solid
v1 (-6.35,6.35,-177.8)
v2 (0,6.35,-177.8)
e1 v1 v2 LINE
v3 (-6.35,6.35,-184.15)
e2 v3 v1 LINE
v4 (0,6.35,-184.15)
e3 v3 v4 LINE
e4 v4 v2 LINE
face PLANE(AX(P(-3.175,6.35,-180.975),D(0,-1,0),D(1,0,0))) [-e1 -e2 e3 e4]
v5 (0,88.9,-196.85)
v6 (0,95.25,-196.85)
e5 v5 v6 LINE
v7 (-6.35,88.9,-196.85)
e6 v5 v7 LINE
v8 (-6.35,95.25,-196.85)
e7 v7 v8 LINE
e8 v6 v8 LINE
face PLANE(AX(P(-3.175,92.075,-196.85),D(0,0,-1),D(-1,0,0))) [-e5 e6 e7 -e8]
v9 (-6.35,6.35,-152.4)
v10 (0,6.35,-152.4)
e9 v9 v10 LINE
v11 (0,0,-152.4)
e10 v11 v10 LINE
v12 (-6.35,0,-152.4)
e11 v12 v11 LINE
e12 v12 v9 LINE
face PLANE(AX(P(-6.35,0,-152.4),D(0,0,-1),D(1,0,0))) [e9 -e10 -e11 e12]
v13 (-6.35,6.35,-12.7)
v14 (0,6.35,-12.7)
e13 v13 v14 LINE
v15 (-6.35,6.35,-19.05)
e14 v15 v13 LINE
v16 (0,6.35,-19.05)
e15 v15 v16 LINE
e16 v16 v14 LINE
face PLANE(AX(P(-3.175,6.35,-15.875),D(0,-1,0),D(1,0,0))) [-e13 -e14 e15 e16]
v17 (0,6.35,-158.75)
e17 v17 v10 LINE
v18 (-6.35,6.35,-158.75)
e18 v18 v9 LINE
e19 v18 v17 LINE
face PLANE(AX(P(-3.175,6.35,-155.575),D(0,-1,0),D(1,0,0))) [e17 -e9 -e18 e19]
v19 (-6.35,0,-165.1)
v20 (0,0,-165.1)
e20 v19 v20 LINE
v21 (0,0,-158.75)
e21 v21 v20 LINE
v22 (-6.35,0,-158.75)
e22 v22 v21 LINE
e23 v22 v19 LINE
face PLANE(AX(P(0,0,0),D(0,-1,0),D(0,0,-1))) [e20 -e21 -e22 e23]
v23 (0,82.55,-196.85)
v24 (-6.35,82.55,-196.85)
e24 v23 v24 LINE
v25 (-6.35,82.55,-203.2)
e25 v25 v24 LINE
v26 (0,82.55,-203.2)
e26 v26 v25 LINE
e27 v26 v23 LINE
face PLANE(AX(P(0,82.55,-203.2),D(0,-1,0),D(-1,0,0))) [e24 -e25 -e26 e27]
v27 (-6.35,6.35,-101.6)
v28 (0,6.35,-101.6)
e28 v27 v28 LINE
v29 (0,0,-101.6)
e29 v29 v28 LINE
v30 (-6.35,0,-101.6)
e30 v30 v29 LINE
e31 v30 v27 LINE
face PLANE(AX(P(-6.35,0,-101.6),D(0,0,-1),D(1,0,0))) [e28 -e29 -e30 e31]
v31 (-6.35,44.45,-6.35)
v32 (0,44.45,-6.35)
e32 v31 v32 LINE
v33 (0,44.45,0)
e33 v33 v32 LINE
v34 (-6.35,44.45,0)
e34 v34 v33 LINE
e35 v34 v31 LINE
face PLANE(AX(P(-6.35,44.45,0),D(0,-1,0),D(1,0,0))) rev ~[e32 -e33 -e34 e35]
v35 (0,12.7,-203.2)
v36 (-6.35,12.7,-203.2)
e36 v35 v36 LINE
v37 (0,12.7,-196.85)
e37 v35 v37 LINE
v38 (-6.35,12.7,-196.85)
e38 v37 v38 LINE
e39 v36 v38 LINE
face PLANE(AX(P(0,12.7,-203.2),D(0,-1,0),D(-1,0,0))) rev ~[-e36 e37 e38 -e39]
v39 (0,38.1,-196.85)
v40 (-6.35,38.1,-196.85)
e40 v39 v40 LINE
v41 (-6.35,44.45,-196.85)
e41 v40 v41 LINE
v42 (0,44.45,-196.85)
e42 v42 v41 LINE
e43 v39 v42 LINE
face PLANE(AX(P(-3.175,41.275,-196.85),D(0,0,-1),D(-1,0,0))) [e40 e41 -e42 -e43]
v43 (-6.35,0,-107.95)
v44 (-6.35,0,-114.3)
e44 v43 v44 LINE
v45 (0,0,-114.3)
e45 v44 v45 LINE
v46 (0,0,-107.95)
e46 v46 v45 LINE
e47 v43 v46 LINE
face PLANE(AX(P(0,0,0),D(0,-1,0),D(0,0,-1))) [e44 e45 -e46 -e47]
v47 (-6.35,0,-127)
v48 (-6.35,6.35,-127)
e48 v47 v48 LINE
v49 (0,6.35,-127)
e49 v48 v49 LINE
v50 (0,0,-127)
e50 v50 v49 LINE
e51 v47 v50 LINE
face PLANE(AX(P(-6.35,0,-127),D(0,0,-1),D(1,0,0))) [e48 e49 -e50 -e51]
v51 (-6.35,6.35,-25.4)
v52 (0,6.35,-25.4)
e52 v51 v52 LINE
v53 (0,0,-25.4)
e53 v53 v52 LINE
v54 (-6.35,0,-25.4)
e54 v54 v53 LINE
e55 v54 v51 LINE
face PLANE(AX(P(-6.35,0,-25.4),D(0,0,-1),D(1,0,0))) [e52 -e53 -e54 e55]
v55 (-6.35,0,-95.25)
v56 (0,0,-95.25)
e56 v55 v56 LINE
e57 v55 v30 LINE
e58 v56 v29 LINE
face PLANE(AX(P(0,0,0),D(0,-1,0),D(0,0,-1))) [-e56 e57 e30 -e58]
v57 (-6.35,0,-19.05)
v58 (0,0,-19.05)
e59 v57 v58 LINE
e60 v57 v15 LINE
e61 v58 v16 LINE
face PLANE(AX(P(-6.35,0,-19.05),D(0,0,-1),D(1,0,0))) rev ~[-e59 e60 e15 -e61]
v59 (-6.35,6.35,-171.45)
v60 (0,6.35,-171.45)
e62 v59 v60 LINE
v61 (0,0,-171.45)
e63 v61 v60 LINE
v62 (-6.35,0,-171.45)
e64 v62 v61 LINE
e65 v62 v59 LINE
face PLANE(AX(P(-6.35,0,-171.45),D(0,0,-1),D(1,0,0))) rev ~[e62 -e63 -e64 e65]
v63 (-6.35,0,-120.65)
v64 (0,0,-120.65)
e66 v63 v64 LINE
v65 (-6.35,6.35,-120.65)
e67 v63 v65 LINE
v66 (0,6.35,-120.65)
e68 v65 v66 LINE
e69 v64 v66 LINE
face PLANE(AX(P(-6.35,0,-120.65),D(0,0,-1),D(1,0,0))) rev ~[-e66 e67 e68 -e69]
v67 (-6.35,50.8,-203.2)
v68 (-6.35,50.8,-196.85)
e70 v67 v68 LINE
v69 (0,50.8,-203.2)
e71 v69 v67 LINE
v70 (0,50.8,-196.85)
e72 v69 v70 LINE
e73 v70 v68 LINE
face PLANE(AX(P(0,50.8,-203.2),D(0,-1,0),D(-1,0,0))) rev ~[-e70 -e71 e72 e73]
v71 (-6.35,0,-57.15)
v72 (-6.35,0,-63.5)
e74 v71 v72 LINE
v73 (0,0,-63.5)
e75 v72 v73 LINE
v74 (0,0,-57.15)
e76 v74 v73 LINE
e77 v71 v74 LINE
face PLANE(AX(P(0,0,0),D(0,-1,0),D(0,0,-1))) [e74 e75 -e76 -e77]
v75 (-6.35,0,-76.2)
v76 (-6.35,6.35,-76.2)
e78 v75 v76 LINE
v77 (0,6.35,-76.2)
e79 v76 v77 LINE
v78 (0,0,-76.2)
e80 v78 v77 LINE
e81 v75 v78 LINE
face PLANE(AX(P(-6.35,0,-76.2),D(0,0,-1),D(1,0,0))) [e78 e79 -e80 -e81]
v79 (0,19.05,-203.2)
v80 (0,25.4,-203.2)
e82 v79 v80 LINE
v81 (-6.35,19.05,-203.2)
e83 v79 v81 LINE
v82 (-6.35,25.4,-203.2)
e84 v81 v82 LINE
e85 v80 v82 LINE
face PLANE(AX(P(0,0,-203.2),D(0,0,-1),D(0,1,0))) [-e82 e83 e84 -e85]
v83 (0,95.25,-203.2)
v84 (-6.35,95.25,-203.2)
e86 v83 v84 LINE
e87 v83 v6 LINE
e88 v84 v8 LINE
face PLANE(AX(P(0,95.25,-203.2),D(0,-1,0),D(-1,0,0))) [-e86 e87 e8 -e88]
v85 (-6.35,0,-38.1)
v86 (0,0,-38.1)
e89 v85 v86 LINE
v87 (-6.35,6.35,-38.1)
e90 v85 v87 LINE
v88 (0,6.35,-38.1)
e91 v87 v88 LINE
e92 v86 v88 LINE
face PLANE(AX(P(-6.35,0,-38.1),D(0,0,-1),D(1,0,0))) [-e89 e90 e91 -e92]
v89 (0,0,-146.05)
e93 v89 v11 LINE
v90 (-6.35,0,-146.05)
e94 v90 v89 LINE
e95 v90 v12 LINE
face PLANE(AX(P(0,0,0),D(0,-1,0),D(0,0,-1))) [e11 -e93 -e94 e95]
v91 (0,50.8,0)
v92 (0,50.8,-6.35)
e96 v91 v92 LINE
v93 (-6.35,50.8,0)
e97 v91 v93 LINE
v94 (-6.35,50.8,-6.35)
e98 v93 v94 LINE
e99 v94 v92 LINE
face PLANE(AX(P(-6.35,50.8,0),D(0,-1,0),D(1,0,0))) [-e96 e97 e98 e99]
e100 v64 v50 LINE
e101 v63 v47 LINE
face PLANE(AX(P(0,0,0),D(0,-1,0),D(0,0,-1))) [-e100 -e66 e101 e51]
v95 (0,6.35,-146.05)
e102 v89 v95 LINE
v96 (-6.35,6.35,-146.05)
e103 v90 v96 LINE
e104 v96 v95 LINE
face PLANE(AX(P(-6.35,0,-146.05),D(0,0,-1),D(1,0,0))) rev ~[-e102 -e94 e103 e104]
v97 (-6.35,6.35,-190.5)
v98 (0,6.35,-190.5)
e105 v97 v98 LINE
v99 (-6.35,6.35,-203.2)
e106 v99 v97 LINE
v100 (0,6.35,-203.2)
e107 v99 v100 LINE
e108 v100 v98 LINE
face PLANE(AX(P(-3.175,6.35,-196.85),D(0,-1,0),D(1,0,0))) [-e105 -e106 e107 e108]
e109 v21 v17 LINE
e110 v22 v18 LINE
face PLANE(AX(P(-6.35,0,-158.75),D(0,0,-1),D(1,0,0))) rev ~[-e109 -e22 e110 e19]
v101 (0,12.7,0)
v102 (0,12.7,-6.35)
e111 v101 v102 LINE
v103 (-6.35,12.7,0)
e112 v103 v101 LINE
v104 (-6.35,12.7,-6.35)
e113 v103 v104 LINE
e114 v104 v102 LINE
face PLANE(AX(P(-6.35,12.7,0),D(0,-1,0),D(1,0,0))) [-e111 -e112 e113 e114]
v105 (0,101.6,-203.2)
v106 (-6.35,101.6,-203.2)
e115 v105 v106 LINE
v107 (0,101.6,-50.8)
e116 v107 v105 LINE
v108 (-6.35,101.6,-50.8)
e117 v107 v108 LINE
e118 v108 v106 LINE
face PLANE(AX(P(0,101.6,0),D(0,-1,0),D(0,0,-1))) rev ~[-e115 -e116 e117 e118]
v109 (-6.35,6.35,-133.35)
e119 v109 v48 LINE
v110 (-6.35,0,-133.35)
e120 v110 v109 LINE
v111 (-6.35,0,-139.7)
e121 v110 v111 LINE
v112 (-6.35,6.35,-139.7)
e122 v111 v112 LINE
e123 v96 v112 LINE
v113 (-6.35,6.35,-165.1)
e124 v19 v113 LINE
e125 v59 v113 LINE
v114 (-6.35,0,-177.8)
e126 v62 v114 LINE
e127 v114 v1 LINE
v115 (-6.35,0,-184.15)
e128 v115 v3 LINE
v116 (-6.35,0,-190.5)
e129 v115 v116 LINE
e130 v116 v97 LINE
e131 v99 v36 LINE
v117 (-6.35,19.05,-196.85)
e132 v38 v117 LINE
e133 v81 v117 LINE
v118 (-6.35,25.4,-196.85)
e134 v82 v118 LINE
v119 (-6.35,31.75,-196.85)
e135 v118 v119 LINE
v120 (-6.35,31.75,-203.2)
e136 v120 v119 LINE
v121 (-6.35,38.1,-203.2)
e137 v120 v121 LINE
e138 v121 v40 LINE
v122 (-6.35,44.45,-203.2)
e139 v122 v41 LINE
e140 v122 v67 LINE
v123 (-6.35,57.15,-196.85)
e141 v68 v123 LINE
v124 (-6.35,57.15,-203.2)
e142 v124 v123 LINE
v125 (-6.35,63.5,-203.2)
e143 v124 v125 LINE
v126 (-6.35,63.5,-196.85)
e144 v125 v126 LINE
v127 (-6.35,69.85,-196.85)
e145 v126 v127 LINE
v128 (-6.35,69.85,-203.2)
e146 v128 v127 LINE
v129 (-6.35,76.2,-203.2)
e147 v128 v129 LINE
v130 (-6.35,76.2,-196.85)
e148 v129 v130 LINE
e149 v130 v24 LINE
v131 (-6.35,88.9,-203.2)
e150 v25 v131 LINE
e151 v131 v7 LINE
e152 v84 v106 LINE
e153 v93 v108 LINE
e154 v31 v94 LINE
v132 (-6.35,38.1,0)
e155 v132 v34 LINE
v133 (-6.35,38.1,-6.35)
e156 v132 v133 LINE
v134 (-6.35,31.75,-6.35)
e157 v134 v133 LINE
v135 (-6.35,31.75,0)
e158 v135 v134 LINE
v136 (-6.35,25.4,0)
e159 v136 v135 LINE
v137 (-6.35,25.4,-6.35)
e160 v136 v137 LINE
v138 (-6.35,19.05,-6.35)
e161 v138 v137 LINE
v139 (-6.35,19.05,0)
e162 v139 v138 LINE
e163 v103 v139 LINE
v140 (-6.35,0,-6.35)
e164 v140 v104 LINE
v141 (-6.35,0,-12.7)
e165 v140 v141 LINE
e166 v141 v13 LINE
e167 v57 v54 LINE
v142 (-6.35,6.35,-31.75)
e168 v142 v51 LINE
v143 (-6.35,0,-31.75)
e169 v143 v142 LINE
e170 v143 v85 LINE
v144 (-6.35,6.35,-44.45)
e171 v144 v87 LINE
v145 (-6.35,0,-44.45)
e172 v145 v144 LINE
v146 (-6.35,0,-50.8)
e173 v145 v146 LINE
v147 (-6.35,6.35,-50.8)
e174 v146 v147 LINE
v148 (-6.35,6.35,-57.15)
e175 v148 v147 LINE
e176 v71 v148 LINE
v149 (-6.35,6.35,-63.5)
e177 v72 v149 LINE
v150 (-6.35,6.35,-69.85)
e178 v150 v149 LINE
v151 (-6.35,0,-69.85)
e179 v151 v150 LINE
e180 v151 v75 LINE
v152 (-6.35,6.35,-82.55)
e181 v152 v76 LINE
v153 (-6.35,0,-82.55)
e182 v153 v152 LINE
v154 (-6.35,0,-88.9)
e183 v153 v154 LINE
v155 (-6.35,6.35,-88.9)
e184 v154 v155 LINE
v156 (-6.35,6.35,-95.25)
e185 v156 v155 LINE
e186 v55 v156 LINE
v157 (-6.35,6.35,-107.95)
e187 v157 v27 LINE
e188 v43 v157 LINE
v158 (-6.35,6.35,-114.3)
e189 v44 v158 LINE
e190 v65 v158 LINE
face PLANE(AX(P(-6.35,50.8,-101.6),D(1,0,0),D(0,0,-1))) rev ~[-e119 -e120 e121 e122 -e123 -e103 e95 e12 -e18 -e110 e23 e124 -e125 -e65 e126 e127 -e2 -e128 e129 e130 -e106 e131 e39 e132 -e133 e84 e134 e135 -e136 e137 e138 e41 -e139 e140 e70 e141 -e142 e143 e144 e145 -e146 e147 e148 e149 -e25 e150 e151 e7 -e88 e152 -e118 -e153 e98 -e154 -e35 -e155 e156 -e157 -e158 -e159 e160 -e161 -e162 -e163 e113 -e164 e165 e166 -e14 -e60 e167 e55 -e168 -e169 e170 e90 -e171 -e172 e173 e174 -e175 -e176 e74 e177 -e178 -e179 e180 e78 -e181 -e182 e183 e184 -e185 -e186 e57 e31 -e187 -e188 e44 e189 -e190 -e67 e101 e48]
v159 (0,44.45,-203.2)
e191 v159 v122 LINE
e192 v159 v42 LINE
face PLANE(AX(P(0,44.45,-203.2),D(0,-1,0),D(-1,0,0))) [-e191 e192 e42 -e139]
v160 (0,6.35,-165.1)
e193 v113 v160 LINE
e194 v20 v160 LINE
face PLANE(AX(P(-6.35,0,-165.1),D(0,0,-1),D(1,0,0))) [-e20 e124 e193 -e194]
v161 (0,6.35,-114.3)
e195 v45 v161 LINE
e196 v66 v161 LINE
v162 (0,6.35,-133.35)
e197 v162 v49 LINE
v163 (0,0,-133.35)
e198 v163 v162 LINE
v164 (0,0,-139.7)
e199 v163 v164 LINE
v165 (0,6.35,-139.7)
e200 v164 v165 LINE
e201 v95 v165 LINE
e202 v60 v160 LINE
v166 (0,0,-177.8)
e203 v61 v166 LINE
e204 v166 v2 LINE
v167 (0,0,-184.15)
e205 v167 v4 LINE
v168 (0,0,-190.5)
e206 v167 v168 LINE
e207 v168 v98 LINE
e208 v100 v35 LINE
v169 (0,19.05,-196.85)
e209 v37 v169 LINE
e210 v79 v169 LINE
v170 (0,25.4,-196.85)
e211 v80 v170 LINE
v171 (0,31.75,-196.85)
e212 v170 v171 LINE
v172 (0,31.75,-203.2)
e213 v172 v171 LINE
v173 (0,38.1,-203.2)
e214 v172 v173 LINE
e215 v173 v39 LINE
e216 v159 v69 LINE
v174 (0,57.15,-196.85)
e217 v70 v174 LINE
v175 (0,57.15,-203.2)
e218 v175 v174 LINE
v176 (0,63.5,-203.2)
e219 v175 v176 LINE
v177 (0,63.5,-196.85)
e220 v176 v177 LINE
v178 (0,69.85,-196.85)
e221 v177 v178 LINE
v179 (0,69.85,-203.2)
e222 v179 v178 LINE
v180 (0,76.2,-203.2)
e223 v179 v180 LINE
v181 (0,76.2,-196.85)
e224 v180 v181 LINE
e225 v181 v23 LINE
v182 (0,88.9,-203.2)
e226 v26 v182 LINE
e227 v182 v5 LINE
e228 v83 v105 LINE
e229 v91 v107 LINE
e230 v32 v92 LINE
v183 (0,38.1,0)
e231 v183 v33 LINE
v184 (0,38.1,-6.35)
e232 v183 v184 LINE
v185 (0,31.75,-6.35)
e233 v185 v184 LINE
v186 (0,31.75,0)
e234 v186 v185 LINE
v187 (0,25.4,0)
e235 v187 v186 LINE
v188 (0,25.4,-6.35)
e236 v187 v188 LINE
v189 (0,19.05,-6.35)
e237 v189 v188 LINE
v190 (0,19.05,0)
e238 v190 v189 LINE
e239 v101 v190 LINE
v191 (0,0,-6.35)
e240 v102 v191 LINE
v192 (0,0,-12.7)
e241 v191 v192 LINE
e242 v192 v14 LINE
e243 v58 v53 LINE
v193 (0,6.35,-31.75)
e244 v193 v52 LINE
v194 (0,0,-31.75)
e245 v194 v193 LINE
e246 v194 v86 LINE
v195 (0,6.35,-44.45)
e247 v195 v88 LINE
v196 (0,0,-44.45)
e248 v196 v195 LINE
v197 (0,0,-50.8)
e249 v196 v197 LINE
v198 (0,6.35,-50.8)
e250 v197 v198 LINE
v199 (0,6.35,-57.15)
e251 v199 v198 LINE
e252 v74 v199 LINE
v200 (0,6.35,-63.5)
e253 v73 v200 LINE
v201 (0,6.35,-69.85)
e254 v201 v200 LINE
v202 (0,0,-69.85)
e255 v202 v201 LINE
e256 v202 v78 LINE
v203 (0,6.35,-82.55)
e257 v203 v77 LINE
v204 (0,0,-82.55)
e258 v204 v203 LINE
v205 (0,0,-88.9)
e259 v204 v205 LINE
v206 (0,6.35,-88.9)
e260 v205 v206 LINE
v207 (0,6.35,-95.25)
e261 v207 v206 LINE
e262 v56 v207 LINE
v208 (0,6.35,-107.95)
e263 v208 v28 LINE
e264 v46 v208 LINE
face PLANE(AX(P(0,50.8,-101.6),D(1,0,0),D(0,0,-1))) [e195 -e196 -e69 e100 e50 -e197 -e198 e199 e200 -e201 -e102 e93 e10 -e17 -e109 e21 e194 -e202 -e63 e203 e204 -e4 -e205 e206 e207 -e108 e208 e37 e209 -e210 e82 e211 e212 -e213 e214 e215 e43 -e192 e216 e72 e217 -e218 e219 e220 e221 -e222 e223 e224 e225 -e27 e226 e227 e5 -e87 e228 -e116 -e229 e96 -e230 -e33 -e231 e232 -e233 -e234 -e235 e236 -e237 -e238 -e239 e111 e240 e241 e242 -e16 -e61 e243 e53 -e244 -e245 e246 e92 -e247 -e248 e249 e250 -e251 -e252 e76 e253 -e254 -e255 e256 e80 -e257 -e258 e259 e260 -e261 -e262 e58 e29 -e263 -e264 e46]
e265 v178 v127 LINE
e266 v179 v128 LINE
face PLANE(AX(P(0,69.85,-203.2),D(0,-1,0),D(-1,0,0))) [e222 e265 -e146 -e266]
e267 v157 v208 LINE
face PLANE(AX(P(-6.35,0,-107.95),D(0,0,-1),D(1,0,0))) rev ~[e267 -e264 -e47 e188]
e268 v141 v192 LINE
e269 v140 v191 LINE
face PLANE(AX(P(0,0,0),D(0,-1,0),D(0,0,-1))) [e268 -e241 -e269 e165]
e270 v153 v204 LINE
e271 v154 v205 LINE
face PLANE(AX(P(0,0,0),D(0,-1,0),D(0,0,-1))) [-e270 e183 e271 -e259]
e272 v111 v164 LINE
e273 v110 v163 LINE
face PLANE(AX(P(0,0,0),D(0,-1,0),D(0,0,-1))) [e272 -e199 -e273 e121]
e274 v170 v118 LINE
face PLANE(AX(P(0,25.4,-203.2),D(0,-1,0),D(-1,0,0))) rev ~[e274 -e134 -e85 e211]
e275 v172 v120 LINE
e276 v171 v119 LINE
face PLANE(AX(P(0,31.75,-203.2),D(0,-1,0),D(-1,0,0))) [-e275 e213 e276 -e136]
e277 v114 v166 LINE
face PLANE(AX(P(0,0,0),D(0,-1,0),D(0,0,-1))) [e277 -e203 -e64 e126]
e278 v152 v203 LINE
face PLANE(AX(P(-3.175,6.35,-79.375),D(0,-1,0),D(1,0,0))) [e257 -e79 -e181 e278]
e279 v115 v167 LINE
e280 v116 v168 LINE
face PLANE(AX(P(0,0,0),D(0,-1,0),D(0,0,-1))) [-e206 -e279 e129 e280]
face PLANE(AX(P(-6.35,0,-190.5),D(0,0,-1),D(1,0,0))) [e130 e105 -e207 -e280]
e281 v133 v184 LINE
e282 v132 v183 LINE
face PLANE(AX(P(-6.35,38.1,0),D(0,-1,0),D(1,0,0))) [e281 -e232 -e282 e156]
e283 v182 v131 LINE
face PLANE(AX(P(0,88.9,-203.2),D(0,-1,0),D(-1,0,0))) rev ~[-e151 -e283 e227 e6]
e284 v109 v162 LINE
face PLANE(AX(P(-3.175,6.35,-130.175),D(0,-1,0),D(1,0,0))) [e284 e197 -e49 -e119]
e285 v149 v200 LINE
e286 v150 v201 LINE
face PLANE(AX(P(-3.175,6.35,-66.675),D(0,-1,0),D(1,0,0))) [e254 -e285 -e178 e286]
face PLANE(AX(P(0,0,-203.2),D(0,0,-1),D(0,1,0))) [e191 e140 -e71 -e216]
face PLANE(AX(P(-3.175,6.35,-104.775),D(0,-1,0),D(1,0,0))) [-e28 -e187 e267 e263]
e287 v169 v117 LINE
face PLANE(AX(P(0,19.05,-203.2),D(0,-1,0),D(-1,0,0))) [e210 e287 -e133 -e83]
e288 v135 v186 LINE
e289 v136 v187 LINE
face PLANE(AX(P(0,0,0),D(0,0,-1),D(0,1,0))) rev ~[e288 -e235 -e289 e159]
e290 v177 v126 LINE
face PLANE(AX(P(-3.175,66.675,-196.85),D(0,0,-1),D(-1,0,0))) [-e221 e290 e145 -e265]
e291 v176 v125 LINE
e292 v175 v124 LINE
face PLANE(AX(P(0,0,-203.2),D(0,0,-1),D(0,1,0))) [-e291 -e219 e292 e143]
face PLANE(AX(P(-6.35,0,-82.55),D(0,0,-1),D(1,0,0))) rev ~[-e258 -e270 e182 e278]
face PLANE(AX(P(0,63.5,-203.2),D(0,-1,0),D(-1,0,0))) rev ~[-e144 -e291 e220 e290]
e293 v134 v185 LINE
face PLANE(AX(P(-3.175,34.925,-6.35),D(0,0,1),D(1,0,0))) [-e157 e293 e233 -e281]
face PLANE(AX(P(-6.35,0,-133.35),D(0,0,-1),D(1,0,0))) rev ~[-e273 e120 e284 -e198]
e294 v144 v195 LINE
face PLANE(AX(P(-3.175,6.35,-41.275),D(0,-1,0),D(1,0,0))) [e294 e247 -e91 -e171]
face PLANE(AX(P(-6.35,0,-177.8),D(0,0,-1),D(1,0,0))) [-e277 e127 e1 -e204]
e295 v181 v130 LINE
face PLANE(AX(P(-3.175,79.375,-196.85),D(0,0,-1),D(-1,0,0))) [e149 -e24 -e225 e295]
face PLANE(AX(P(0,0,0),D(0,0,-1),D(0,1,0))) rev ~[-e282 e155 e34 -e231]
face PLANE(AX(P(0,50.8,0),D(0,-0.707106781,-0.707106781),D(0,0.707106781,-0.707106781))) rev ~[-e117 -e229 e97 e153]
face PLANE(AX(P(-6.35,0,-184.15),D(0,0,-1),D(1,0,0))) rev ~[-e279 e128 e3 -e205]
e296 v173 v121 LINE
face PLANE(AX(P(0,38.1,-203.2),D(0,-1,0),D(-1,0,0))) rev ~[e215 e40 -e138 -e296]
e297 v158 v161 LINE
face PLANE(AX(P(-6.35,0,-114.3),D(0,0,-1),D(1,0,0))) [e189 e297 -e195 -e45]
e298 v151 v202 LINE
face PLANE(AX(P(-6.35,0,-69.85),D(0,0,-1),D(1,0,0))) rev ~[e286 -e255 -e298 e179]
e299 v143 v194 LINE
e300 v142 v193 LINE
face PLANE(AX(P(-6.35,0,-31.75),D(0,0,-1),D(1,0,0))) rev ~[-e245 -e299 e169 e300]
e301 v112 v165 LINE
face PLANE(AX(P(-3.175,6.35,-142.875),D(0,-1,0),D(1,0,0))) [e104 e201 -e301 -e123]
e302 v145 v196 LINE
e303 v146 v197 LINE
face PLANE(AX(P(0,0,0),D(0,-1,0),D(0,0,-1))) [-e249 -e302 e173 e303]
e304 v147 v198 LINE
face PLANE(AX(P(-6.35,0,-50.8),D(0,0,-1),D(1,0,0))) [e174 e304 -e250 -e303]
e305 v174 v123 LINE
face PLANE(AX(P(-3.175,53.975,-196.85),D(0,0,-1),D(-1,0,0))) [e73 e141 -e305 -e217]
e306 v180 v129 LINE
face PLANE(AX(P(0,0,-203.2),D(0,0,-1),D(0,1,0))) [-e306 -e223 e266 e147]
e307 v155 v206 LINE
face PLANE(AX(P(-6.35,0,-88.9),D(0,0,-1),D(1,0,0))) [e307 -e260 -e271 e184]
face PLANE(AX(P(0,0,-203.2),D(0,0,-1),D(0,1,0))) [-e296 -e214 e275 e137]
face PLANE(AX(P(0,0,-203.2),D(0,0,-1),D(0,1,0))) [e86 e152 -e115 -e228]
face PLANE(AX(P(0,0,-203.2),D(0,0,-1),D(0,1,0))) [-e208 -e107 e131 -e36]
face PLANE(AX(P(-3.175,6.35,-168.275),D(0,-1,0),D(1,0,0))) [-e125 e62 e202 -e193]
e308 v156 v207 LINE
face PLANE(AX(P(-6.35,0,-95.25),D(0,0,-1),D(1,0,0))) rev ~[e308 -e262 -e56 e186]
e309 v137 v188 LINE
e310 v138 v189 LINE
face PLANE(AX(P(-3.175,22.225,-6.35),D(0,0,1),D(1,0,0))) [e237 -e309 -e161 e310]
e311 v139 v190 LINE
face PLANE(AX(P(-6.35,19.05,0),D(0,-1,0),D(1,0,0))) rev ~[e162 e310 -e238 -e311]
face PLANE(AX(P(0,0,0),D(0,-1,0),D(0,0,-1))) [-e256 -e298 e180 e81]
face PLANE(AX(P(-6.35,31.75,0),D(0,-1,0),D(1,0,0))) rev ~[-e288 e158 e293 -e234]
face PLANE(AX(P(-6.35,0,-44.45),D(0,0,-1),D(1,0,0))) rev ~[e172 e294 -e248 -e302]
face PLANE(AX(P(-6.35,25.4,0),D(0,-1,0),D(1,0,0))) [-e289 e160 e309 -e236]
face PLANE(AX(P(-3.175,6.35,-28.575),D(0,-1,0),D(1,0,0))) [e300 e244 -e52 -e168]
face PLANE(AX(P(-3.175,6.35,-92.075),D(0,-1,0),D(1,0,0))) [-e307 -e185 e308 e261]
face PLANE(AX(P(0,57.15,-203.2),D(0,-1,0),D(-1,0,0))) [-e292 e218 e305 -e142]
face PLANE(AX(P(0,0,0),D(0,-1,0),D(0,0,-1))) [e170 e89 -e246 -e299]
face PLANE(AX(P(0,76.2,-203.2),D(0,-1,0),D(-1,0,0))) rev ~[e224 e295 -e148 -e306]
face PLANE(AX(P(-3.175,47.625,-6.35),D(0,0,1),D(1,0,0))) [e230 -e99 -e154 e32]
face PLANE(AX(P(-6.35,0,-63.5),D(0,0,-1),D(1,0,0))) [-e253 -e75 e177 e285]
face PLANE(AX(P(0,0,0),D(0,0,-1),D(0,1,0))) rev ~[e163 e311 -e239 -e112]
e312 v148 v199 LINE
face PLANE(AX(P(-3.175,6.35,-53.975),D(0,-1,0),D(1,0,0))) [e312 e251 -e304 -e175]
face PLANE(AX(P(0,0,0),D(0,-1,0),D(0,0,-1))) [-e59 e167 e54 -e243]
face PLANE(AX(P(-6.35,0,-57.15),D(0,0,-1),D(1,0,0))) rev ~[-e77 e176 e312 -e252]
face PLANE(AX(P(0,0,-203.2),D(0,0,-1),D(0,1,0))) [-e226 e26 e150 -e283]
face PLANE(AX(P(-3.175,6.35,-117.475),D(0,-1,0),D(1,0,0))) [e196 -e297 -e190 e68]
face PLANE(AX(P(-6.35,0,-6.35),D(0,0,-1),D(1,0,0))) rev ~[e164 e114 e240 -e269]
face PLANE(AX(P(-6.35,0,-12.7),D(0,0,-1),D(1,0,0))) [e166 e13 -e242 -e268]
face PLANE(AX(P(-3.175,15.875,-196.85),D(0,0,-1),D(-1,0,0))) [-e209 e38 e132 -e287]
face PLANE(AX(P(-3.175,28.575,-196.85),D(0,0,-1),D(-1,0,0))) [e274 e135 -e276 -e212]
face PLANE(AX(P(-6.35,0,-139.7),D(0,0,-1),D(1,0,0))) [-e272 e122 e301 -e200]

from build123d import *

# Parameters (mm, degrees)
SKETCH1_W           = 203.2
SKETCH1_H           = 101.6
BOSS_EXTRUDE1_DEPTH = 6.35
SKETCH2_W           = 6.35
SKETCH2_H           = 12.7
CUT_EXTRUDE1_DEPTH  = 6.35
SKETCH5_W           = 6.35
SKETCH5_H           = 6.35
CUT_EXTRUDE2_DEPTH  = 6.35
LPATTERN1_COUNT     = 15
LPATTERN1_PITCH     = 12.7
SKETCH6_W           = 6.35
SKETCH6_H           = 6.35
CUT_EXTRUDE3_DEPTH  = 6.35
LPATTERN2_COUNT     = 7
LPATTERN2_PITCH     = 12.7
CUT_EXTRUDE4_DEPTH  = 6.35
SKETCH8_W           = 6.35
SKETCH8_H           = 6.35
CUT_EXTRUDE5_DEPTH  = 6.35
SKETCH10_W          = 6.35
SKETCH10_H          = 6.35
CUT_EXTRUDE6_DEPTH  = 6.35
LPATTERN3_COUNT     = 3
LPATTERN3_PITCH     = 12.7


with BuildPart() as part:
    # Sketch1 → Boss-Extrude1 (new body)
    with BuildSketch(Plane(origin=(0, 0, 0), x_dir=(0, 0, -1), z_dir=(1, 0, 0))):
        with Locations((101.6, 50.8)):
            Rectangle(SKETCH1_W, SKETCH1_H)
    extrude(amount=-BOSS_EXTRUDE1_DEPTH)

    # Sketch2 → Cut-Extrude1 (cut)
    with BuildSketch(Plane.XZ):
        with Locations((-3.175, -196.85)):
            Rectangle(SKETCH2_W, SKETCH2_H)
    extrude(amount=-CUT_EXTRUDE1_DEPTH, mode=Mode.SUBTRACT)

    # Sketch5 → Cut-Extrude2 (cut)
    with BuildSketch(Plane.XZ):
        with Locations((-3.175, -180.975)):
            Rectangle(SKETCH5_W, SKETCH5_H)
    cut_extrude2 = extrude(amount=-CUT_EXTRUDE2_DEPTH, mode=Mode.SUBTRACT)

    # LPattern1: Cut-Extrude2 ×15
    with Locations(*[(0, 0, i * LPATTERN1_PITCH) for i in range(1, LPATTERN1_COUNT)]):
        add(cut_extrude2, mode=Mode.SUBTRACT)

    # Sketch6 → Cut-Extrude3 (cut)
    with BuildSketch(Plane(origin=(0, 0, -203.2), x_dir=(-1, 0, 0), z_dir=(0, 0, -1))):
        with Locations((3.175, 15.875)):
            Rectangle(SKETCH6_W, SKETCH6_H)
    cut_extrude3 = extrude(amount=-CUT_EXTRUDE3_DEPTH, mode=Mode.SUBTRACT)

    # LPattern2: Cut-Extrude3 ×7
    with Locations(*[(0, i * LPATTERN2_PITCH, 0) for i in range(1, LPATTERN2_COUNT)]):
        add(cut_extrude3, mode=Mode.SUBTRACT)

    # Sketch7 → Cut-Extrude4 (cut)
    with BuildSketch(Plane(origin=(0, 0, 0), x_dir=(0, 0, -1), z_dir=(1, 0, 0))):
        Polygon((0, 101.6), (0, 50.8), (50.8, 101.6), align=None)
    extrude(amount=-CUT_EXTRUDE4_DEPTH, mode=Mode.SUBTRACT)

    # Sketch8 → Cut-Extrude5 (cut)
    with BuildSketch(Plane.XY):
        with Locations((-3.175, 9.525)):
            Rectangle(SKETCH8_W, SKETCH8_H)
    extrude(amount=-CUT_EXTRUDE5_DEPTH, mode=Mode.SUBTRACT)

    # Sketch10 → Cut-Extrude6 (cut)
    with BuildSketch(Plane.XY):
        with Locations((-3.175, 22.225)):
            Rectangle(SKETCH10_W, SKETCH10_H)
    cut_extrude6 = extrude(amount=-CUT_EXTRUDE6_DEPTH, mode=Mode.SUBTRACT)

    # LPattern3: Cut-Extrude6 ×3
    with Locations(*[(0, i * LPATTERN3_PITCH, 0) for i in range(1, LPATTERN3_COUNT)]):
        add(cut_extrude6, mode=Mode.SUBTRACT)


solid = part.part
